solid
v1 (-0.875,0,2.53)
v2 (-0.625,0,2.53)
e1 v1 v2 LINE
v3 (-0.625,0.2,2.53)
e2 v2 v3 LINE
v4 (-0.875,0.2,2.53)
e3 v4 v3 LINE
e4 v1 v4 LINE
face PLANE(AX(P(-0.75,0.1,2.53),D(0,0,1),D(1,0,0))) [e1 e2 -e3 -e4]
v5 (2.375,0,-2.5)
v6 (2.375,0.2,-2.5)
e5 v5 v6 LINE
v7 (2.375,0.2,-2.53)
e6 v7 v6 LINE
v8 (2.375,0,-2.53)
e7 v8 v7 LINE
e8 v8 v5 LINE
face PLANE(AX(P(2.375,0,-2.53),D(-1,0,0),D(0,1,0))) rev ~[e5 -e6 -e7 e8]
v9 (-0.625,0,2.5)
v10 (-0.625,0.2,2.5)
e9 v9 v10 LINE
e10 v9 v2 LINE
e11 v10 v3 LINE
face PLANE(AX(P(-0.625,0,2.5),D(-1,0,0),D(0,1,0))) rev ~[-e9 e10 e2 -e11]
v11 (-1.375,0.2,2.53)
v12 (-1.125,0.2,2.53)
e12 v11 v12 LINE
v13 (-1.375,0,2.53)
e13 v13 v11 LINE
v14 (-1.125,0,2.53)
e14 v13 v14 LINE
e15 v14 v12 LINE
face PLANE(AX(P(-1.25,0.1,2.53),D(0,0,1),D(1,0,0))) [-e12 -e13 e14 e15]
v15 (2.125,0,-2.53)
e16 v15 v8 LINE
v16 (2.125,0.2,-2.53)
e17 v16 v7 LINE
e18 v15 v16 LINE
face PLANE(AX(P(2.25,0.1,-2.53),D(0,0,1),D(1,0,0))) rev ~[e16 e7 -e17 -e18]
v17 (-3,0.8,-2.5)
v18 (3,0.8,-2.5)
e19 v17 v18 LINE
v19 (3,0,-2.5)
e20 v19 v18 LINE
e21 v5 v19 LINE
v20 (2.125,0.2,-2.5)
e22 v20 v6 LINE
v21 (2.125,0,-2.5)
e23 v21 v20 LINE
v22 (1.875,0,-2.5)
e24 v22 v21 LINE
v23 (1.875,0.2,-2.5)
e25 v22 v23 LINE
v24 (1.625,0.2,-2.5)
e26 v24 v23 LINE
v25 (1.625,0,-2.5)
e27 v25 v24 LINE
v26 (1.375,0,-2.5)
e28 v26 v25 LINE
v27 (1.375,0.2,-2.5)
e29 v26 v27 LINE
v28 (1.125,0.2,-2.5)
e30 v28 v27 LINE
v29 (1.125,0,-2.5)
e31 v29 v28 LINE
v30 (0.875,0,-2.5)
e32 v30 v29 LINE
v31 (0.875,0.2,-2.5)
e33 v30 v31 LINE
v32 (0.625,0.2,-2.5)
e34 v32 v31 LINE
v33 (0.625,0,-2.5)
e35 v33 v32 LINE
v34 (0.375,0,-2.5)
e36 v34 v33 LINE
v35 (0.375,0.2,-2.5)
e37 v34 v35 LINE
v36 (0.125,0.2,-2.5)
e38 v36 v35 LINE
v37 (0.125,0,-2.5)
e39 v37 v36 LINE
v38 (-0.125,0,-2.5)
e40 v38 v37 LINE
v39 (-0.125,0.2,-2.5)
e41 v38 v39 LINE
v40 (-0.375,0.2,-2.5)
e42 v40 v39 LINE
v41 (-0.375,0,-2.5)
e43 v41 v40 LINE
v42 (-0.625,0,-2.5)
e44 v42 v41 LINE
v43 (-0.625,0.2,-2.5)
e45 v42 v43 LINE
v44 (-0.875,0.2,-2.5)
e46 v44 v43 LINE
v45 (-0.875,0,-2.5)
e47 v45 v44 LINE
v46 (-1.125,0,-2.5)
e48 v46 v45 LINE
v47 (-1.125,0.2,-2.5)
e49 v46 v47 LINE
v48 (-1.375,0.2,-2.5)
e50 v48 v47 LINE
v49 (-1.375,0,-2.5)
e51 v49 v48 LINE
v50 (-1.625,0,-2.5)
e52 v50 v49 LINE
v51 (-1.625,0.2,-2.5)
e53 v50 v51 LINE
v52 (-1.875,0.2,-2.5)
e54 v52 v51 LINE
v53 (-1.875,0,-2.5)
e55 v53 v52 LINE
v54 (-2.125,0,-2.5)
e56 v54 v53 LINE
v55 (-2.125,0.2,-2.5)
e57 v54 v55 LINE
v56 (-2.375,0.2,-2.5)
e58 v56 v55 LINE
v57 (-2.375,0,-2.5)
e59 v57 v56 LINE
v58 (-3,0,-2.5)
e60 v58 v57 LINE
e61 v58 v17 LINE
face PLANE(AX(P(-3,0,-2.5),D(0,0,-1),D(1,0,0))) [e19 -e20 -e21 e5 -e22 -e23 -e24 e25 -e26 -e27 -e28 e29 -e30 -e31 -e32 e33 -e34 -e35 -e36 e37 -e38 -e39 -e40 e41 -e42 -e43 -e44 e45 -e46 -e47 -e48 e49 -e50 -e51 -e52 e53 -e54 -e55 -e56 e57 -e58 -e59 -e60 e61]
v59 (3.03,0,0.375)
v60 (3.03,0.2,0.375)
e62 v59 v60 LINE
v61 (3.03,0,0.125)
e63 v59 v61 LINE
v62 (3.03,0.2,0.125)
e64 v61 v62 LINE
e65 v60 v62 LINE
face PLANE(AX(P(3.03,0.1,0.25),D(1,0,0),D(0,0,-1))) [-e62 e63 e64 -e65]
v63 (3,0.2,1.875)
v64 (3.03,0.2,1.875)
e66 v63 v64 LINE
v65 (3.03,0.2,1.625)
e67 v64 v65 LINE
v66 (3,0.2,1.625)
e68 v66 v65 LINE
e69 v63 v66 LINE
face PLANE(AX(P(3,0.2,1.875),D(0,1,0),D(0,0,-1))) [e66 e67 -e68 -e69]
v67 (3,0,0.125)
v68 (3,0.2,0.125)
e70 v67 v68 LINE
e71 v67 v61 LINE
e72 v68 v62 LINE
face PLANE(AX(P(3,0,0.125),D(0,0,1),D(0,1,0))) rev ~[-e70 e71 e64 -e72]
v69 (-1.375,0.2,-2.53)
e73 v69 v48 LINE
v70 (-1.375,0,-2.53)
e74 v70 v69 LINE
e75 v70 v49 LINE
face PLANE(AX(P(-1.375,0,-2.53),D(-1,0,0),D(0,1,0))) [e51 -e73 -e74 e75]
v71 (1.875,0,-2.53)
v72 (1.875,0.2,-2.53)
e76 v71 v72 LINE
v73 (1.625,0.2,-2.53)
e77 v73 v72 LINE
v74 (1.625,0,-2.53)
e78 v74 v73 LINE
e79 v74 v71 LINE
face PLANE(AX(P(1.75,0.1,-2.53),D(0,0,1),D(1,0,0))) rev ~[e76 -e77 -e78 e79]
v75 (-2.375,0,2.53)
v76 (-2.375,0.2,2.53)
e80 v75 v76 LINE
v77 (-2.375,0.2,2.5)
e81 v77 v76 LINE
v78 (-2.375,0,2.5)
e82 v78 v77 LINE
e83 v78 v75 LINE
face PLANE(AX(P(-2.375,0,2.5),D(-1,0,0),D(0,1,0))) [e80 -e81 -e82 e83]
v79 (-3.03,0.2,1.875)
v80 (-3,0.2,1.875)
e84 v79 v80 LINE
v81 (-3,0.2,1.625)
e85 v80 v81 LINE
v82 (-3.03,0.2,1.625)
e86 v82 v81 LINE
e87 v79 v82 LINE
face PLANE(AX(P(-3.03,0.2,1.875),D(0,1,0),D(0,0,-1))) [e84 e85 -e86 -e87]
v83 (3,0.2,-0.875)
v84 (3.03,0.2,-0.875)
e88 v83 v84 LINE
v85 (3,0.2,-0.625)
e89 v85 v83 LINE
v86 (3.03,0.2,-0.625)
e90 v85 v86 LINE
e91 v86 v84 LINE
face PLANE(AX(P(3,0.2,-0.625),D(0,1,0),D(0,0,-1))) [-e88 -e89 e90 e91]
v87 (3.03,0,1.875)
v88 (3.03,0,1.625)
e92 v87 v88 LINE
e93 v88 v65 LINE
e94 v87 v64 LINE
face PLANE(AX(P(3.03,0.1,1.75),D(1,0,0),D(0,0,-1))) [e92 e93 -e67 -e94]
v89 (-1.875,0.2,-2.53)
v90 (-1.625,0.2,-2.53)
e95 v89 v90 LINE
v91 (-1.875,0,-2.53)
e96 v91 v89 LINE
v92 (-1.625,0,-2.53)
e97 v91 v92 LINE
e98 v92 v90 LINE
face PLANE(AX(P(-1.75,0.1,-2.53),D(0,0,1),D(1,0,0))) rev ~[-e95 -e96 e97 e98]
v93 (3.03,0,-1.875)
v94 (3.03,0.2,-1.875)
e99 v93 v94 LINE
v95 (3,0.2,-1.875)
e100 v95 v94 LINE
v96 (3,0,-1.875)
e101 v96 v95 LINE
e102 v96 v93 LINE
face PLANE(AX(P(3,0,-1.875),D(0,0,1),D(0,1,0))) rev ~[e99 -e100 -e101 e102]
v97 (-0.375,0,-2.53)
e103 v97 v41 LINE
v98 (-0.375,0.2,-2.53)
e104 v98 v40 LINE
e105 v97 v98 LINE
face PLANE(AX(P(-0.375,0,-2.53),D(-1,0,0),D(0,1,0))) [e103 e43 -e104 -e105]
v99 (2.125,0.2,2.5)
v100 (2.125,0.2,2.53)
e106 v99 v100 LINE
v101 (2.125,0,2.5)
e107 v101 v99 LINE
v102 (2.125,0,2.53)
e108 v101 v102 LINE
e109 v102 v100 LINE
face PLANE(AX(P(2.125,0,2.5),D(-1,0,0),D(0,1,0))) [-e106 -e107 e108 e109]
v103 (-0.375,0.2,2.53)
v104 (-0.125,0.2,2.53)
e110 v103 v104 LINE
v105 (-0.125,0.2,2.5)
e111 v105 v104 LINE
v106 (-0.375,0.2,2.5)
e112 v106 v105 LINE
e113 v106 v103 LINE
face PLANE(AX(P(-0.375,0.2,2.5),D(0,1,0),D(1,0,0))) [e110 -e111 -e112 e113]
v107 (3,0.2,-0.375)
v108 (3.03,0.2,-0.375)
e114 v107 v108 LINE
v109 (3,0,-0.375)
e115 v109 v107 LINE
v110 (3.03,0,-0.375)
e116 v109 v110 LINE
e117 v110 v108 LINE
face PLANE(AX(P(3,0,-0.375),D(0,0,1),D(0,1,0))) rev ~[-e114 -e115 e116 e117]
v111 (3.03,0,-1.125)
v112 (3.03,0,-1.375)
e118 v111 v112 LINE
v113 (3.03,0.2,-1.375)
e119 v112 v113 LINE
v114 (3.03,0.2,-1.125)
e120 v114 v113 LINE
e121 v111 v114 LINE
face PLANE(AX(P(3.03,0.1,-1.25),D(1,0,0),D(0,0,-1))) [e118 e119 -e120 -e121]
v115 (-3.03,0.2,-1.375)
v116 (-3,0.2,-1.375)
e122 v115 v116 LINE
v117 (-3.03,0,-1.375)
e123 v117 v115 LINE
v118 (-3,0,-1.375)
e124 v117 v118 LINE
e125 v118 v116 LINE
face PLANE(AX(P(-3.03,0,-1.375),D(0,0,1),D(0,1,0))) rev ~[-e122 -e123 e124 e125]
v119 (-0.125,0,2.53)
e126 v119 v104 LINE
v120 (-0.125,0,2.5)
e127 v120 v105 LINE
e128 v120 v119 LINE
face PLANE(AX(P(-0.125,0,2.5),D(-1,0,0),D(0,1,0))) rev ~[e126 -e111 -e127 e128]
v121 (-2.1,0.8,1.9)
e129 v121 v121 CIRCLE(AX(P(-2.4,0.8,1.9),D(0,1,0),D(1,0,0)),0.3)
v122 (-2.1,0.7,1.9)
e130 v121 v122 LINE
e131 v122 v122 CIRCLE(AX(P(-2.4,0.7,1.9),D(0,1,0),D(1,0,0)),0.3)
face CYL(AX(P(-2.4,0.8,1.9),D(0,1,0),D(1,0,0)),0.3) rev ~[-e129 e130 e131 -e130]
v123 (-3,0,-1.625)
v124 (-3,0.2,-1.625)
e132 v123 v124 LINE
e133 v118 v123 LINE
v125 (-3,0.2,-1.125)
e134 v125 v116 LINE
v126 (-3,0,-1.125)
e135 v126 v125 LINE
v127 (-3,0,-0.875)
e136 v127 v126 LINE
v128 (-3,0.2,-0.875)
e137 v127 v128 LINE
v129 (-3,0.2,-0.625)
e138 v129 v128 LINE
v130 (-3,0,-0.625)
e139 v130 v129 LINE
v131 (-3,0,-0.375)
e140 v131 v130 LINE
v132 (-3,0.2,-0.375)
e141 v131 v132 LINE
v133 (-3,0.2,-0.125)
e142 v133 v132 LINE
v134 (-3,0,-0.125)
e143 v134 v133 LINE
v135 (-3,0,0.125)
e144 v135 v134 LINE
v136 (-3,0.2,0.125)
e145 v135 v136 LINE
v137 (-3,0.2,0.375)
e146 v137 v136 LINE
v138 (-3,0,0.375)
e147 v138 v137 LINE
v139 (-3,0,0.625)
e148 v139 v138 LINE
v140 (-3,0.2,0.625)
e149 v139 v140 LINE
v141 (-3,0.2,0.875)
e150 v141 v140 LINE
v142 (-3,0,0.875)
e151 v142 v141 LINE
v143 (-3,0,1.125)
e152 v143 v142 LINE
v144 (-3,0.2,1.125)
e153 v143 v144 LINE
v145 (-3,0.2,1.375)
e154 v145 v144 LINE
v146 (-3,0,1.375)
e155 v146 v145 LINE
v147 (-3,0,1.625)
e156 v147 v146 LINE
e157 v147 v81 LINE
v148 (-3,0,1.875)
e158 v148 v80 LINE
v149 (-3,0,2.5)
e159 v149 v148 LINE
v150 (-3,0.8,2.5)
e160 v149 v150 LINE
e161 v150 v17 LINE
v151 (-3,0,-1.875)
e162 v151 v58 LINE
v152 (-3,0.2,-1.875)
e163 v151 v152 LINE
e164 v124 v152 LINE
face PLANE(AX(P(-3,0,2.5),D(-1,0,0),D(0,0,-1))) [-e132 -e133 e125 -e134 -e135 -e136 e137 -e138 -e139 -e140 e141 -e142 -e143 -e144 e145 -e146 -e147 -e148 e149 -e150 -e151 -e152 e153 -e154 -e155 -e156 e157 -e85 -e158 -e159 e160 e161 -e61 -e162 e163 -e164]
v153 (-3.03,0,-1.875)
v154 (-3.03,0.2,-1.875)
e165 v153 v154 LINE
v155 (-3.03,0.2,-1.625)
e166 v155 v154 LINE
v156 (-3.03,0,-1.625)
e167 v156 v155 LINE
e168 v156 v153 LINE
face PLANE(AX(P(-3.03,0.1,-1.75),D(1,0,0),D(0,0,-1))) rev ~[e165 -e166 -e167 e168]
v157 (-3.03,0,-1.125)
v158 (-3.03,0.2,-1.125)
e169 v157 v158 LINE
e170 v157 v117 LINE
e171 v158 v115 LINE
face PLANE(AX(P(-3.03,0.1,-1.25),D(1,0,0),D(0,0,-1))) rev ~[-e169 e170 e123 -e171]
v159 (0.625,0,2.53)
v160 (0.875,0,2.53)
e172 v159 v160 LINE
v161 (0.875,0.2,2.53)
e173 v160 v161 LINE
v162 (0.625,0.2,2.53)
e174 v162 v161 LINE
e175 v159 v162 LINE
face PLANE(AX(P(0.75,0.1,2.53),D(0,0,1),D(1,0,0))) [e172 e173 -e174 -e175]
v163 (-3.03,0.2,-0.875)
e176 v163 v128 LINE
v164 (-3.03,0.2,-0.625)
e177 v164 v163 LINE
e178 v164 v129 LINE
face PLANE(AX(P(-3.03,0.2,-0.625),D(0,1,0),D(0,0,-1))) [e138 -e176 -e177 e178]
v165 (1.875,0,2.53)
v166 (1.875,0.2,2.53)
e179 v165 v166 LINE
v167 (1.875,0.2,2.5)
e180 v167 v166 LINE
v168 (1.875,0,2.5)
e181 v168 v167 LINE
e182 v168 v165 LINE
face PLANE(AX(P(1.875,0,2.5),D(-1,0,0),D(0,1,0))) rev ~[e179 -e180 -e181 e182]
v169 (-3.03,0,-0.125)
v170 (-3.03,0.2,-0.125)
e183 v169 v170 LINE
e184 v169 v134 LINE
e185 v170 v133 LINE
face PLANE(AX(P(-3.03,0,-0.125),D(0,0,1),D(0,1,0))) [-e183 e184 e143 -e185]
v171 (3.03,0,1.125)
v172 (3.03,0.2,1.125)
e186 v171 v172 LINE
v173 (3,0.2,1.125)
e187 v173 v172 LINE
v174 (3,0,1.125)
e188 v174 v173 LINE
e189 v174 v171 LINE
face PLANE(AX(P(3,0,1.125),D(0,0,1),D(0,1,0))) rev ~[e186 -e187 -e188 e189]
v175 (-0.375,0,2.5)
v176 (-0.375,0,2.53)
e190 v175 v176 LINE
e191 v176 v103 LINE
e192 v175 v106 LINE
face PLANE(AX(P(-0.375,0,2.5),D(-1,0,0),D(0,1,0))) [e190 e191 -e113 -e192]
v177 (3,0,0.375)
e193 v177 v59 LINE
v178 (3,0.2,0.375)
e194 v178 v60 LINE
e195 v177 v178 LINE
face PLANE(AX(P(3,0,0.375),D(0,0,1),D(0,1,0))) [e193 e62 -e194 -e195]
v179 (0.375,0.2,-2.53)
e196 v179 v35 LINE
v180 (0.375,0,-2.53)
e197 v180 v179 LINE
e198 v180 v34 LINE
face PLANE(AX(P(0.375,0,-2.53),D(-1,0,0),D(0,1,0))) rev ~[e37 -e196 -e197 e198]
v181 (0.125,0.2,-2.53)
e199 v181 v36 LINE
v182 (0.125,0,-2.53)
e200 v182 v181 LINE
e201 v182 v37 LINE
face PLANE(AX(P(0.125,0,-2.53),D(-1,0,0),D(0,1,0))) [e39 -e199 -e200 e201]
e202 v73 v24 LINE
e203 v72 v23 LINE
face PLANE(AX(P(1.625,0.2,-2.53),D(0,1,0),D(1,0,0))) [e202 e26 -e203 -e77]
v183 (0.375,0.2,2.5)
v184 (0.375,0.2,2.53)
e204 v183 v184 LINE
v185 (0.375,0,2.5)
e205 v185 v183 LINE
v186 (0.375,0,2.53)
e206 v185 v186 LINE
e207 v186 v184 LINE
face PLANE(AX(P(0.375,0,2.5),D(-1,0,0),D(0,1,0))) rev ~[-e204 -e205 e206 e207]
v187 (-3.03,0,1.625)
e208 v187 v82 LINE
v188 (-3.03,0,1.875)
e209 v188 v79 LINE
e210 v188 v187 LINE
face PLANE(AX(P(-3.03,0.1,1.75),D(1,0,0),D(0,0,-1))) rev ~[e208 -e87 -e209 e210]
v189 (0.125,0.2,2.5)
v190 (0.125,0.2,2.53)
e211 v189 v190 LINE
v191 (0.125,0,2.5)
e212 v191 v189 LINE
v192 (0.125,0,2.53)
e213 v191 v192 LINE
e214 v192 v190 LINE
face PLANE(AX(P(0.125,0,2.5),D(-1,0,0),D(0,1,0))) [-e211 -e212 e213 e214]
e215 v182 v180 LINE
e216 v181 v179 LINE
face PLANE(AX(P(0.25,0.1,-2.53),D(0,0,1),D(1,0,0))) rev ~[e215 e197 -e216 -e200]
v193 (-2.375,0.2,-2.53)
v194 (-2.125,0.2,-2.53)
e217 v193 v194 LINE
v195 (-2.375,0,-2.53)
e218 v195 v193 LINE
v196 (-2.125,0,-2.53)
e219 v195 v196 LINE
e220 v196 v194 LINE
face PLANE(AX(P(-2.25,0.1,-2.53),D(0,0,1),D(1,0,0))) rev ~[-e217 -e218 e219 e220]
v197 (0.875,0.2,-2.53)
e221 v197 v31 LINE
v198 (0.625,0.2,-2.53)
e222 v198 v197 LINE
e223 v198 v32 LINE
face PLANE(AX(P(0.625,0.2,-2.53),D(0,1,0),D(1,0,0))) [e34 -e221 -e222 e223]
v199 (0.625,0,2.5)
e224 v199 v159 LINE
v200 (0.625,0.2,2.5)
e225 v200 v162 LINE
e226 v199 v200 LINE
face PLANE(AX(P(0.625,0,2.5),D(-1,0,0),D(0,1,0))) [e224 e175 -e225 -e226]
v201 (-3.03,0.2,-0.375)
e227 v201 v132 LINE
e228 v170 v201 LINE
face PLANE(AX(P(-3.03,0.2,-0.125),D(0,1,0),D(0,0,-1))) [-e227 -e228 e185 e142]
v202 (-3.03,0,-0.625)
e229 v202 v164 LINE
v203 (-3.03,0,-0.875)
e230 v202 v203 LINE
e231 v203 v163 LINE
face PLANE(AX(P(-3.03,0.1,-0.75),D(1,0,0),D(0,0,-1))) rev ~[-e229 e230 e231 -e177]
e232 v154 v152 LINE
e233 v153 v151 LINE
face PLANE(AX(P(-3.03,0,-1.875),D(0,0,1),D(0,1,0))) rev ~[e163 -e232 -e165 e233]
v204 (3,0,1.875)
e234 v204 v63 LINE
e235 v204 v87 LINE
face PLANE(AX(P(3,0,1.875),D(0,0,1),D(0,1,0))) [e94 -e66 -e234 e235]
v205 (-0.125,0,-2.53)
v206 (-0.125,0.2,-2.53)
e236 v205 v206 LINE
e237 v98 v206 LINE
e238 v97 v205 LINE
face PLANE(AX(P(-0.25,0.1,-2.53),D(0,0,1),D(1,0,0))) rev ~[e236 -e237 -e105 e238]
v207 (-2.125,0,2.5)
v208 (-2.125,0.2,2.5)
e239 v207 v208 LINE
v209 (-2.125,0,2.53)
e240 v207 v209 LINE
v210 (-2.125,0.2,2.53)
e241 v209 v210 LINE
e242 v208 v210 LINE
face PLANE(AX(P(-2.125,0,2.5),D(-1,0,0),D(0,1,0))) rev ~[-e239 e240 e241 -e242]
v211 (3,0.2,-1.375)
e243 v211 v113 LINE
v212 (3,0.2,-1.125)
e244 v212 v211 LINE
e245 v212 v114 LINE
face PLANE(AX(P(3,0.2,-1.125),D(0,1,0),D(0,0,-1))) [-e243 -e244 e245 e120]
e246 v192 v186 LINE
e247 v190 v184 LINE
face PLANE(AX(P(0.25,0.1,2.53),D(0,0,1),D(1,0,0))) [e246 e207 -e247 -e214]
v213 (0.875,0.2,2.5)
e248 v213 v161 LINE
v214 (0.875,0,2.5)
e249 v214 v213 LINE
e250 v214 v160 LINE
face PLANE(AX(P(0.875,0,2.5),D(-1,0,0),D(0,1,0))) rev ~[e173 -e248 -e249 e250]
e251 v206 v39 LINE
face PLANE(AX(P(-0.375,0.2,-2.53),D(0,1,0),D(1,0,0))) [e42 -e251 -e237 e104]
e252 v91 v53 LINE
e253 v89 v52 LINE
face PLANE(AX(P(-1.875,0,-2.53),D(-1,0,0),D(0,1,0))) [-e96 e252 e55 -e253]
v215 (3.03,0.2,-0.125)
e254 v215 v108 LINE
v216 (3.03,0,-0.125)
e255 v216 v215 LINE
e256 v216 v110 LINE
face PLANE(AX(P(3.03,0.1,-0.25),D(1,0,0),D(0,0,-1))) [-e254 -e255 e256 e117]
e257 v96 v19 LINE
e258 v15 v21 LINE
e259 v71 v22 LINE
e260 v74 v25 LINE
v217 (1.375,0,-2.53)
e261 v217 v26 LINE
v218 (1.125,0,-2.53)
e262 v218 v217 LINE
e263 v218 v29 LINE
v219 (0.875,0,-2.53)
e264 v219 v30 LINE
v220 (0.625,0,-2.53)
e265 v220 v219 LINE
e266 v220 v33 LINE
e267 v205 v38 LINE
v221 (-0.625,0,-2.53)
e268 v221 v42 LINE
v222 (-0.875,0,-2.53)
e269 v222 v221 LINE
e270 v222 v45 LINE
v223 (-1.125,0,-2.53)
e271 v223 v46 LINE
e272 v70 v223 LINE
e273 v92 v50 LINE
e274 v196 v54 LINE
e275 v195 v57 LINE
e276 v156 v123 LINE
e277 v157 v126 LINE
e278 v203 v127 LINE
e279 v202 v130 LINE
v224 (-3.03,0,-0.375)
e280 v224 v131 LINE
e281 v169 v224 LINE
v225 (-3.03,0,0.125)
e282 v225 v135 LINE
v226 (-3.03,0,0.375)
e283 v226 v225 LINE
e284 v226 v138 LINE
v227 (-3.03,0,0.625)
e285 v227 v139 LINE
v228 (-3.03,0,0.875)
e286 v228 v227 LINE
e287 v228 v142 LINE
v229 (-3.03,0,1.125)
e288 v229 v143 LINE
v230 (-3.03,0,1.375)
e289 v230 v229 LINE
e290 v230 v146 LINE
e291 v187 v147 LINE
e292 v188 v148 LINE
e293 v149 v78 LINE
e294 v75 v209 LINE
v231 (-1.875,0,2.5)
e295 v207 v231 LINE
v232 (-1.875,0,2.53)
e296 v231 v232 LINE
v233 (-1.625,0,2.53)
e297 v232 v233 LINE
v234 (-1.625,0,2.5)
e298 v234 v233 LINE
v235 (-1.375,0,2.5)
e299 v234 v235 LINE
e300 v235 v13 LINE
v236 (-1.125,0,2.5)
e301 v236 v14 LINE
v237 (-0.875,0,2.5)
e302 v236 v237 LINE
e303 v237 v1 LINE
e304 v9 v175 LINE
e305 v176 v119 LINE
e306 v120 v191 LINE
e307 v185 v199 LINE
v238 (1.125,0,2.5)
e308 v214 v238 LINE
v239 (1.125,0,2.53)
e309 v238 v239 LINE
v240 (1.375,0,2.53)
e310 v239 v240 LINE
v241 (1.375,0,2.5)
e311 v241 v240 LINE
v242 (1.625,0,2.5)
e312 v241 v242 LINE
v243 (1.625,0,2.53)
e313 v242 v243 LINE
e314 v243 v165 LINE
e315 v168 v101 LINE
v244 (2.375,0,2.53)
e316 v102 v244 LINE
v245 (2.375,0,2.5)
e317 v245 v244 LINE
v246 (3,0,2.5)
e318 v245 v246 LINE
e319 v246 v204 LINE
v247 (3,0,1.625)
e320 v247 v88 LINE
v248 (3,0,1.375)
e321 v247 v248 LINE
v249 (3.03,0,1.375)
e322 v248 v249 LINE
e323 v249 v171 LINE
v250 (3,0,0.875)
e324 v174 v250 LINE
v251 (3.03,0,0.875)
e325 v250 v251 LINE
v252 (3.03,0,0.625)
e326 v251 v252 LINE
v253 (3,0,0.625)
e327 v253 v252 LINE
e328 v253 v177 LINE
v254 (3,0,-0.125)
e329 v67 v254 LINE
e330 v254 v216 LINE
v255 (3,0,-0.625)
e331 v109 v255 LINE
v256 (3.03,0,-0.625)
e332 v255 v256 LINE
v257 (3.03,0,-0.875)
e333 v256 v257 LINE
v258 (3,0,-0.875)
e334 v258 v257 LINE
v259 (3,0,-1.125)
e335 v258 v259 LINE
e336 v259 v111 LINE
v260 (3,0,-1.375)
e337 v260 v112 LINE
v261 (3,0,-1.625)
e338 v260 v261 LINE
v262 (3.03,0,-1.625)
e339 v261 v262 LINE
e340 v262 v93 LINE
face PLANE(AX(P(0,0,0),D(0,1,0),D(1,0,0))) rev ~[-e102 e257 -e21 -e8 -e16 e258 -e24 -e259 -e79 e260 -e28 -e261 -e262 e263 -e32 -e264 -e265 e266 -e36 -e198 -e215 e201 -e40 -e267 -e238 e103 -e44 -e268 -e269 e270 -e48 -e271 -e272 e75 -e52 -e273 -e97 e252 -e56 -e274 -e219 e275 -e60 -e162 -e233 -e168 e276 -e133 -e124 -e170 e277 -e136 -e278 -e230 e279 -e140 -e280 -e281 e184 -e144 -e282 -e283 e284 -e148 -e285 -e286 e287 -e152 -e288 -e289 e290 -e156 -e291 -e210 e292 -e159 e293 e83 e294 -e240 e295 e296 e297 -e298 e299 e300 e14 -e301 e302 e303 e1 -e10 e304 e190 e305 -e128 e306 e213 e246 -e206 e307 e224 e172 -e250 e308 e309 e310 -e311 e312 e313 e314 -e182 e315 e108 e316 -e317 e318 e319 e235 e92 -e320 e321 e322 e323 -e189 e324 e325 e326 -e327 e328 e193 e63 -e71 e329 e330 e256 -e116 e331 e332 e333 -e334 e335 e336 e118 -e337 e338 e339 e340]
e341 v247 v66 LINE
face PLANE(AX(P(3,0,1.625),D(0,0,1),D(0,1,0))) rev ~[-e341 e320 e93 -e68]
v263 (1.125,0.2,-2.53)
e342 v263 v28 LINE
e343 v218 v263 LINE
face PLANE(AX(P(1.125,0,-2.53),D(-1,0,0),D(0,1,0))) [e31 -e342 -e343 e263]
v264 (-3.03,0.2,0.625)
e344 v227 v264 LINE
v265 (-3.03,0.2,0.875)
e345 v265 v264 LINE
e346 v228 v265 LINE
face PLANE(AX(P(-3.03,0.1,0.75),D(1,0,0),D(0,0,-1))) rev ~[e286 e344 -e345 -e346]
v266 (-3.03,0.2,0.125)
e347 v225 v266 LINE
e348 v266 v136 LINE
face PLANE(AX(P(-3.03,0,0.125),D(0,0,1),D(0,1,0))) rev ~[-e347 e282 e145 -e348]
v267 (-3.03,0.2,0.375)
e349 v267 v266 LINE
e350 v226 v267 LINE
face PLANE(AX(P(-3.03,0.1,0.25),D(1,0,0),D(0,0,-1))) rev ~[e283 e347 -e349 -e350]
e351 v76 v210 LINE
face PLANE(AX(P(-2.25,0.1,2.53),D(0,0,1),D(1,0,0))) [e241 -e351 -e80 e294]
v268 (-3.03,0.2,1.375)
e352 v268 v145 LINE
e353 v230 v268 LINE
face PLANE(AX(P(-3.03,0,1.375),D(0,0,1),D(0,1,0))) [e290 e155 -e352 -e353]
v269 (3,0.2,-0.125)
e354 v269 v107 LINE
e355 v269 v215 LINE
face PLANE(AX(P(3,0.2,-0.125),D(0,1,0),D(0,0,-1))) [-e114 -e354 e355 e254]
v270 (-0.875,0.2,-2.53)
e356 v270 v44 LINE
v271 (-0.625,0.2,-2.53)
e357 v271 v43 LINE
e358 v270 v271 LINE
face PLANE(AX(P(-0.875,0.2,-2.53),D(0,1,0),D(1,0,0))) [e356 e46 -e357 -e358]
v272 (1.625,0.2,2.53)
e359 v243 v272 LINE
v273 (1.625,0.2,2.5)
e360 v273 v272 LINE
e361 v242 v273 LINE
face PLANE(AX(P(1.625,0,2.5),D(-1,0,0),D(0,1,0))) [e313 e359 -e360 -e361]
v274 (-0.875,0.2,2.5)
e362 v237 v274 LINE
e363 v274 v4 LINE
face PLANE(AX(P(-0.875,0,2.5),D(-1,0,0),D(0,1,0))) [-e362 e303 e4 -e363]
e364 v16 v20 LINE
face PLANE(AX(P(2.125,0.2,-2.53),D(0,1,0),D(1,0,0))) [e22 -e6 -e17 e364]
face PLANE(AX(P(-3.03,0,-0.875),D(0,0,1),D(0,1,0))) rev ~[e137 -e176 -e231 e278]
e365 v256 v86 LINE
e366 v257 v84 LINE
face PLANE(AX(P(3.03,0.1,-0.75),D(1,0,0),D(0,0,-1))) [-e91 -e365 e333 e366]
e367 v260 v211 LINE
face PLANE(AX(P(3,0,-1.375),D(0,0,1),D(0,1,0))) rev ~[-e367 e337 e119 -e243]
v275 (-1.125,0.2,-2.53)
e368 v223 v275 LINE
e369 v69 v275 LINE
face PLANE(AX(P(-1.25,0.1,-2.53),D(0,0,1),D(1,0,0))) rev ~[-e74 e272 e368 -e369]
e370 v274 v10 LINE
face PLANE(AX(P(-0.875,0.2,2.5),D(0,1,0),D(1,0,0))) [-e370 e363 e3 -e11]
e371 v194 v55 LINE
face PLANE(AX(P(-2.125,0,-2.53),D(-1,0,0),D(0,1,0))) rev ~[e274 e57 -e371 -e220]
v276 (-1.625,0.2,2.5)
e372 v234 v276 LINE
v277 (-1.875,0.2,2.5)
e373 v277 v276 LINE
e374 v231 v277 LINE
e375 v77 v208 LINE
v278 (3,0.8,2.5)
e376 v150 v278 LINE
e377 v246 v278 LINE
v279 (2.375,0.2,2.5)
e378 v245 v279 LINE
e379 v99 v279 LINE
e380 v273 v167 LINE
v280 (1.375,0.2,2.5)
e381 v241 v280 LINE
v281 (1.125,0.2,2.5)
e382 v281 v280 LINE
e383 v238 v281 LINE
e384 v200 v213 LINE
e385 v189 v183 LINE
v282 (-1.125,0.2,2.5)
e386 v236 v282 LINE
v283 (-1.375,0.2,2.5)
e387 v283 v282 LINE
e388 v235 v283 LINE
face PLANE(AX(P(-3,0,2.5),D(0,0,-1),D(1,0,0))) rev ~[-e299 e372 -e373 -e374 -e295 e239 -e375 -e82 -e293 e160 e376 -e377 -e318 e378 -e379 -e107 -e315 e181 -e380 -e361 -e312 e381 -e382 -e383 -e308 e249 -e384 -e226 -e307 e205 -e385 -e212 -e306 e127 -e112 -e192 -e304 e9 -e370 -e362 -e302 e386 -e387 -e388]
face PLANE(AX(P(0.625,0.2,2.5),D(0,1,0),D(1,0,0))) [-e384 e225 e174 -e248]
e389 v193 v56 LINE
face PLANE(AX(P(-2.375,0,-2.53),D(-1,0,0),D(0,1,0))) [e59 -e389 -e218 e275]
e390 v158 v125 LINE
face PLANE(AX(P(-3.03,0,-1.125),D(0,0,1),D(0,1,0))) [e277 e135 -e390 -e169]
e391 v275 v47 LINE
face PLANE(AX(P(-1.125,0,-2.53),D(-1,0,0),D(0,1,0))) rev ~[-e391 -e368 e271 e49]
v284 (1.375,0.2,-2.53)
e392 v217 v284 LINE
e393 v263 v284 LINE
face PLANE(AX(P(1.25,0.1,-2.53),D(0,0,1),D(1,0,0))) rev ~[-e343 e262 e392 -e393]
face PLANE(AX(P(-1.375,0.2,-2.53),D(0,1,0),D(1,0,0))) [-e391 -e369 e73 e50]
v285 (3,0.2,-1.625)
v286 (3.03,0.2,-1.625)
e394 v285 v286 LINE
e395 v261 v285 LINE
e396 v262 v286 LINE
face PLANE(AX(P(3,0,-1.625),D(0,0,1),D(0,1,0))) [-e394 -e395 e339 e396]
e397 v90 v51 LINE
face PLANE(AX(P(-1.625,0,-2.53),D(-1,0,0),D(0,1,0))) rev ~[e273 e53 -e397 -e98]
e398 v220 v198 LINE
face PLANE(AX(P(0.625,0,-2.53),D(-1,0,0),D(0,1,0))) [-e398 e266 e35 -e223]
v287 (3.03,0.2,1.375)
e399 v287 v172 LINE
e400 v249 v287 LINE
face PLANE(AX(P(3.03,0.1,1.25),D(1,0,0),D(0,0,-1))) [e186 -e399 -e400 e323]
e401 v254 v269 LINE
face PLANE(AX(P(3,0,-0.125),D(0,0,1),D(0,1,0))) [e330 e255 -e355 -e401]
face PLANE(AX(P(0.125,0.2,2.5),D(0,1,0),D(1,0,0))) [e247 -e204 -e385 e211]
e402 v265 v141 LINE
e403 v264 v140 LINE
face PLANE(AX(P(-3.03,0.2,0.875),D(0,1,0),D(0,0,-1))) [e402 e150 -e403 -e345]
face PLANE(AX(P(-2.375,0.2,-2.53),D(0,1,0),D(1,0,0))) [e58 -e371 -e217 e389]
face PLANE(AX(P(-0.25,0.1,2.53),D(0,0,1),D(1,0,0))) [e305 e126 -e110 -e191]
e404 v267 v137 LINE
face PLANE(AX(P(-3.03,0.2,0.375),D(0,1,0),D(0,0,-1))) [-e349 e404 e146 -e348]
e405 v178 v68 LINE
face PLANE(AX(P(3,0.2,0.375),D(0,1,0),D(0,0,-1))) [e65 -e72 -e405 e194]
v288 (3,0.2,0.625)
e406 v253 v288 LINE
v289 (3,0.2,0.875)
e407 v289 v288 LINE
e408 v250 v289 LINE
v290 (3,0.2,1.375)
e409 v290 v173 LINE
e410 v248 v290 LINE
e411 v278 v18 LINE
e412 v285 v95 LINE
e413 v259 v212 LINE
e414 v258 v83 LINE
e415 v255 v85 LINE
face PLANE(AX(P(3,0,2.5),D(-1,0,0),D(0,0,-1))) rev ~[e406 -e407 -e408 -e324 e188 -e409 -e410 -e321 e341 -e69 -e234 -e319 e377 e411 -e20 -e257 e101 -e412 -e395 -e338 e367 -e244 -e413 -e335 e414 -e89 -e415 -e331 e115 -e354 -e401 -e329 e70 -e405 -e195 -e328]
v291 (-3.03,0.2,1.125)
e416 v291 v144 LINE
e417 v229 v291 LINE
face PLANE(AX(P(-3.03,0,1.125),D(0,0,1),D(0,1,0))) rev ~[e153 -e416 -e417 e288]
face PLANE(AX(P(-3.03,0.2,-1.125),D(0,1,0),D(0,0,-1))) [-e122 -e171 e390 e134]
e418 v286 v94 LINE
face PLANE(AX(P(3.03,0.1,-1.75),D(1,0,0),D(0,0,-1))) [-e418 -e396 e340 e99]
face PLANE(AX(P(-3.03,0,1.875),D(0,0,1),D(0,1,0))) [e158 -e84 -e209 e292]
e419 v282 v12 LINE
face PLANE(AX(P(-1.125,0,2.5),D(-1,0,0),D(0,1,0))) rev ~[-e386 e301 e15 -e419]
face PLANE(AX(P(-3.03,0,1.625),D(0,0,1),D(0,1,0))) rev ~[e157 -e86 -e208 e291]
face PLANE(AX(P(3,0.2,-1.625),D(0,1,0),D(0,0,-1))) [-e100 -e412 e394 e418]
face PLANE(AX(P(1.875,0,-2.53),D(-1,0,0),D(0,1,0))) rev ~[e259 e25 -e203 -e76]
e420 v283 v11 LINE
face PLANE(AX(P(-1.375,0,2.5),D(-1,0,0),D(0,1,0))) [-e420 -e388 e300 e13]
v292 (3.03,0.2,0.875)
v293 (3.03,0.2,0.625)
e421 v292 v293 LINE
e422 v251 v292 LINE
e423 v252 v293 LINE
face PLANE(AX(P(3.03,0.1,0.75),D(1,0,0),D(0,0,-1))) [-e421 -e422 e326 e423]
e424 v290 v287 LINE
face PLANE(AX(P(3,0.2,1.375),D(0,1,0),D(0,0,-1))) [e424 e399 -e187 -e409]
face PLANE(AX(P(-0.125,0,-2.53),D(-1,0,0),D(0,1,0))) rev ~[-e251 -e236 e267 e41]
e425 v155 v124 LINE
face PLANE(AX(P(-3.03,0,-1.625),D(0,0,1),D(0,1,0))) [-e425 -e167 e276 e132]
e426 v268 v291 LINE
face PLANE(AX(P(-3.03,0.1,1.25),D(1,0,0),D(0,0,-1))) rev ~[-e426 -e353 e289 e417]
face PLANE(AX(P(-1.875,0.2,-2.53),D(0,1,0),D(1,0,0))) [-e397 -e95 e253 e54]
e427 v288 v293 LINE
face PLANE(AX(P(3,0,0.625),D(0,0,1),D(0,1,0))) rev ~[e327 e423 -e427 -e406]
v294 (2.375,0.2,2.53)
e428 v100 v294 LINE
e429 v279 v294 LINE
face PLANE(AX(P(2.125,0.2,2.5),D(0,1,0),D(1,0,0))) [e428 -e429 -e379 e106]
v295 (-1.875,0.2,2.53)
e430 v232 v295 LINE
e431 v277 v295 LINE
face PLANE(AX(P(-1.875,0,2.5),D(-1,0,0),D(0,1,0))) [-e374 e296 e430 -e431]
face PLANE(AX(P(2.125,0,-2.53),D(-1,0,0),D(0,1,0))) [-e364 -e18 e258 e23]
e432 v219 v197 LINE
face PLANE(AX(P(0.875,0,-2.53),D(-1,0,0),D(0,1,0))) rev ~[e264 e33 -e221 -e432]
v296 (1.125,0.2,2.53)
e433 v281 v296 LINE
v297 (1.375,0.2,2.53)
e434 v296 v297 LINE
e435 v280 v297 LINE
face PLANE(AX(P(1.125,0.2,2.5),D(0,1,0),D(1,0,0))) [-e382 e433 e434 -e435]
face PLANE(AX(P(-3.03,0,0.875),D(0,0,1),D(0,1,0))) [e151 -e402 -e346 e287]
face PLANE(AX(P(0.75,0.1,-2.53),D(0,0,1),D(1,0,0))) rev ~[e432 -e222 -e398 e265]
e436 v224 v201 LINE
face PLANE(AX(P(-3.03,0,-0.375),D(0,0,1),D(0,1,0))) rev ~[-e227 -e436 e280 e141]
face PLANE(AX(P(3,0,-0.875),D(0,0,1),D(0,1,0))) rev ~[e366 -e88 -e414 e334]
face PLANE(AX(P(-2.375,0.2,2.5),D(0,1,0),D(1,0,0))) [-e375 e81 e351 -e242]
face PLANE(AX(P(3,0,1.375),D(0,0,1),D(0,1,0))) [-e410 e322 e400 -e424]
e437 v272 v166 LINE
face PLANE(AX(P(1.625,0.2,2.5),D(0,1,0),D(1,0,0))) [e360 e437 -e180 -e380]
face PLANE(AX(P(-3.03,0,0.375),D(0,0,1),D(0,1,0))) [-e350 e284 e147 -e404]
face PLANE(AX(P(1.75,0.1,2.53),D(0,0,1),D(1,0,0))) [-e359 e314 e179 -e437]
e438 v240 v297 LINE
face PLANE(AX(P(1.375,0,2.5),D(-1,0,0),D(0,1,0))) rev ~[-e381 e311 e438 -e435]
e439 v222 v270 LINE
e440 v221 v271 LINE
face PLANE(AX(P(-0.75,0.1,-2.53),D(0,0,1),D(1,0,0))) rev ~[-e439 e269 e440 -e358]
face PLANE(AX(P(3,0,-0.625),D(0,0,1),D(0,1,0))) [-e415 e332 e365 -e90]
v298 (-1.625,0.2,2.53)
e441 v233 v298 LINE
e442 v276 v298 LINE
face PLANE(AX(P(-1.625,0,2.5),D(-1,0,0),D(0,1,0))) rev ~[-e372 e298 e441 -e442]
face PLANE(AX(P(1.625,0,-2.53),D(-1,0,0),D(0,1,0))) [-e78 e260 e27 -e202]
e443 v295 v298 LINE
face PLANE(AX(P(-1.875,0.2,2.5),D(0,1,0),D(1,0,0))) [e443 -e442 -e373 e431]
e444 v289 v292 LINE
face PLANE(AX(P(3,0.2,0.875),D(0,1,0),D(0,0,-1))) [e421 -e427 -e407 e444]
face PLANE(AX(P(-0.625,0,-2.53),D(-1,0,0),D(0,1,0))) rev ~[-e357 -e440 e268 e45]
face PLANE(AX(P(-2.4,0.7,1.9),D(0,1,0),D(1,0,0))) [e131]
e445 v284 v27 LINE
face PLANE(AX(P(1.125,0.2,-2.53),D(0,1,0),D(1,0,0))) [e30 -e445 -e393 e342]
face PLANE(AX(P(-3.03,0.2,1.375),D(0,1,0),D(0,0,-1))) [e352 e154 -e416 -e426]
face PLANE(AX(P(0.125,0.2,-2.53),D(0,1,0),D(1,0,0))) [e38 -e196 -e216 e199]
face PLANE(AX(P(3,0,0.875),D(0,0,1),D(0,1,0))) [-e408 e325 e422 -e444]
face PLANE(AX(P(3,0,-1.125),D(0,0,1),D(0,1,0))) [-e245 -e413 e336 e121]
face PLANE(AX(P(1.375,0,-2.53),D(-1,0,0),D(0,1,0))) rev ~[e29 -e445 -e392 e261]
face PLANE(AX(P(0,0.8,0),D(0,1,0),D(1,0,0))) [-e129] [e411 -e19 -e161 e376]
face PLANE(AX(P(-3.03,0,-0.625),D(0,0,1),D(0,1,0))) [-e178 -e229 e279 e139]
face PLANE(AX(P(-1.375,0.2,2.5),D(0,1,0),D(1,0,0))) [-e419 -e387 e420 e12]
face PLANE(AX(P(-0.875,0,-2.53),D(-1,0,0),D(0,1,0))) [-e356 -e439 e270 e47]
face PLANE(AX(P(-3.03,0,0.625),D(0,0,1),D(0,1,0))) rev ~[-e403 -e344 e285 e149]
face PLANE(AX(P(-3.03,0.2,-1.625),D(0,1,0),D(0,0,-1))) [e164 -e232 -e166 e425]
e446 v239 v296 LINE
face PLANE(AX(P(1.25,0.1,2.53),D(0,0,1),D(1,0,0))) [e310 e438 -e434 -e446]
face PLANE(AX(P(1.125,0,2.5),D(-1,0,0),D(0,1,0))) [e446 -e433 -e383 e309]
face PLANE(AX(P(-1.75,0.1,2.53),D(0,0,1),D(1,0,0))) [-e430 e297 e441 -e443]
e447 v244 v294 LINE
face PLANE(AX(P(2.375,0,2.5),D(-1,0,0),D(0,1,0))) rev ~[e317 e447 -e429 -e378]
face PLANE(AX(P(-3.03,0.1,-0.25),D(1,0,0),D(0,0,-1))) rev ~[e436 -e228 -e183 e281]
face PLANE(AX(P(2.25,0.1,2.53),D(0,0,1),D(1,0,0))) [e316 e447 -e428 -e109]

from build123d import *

# Parameters (mm, degrees)
SKETCH1_W           = 6
SKETCH1_H           = 5
BOSS_EXTRUDE1_DEPTH = 0.8
SKETCH2_R           = 0.3
CUT_EXTRUDE1_DEPTH  = 0.1
SKETCH3_W           = 0.25
SKETCH3_H           = 0.2
BOSS_EXTRUDE2_DEPTH = 0.03
LPATTERN1_COUNT     = 2
LPATTERN1_PITCH     = 5.03
SKETCH4_W           = 0.25
SKETCH4_H           = 0.2
BOSS_EXTRUDE3_DEPTH = 0.03
LPATTERN2_COUNT     = 2
LPATTERN2_PITCH     = 6.03


with BuildPart() as part:
    # Sketch1 → Boss-Extrude1 (new body)
    with BuildSketch(Plane(origin=(0, 0, 0), x_dir=(1, 0, 0), z_dir=(0, 1, 0))):
        Rectangle(SKETCH1_W, SKETCH1_H)
    extrude(amount=BOSS_EXTRUDE1_DEPTH)

    # Sketch2 → Cut-Extrude1 (cut)
    with BuildSketch(Plane(origin=(0, 0.8, 0), x_dir=(1, 0, 0), z_dir=(0, 1, 0))):
        with Locations((-2.4, -1.9)):
            Circle(SKETCH2_R)
    extrude(amount=-CUT_EXTRUDE1_DEPTH, mode=Mode.SUBTRACT)

    # Sketch3 → Boss-Extrude2 (add)
    with BuildSketch(Plane.XY.offset(2.5)):
        with Locations((-0.25, 0.1)):
            Rectangle(SKETCH3_W, SKETCH3_H)
        with Locations((0.25, 0.1)):
            Rectangle(SKETCH3_W, SKETCH3_H)
        with Locations((0.75, 0.1)):
            Rectangle(SKETCH3_W, SKETCH3_H)
        with Locations((1.25, 0.1)):
            Rectangle(SKETCH3_W, SKETCH3_H)
        with Locations((1.75, 0.1)):
            Rectangle(SKETCH3_W, SKETCH3_H)
        with Locations((2.25, 0.1)):
            Rectangle(SKETCH3_W, SKETCH3_H)
        with Locations((-0.75, 0.1)):
            Rectangle(SKETCH3_W, SKETCH3_H)
        with Locations((-1.25, 0.1)):
            Rectangle(SKETCH3_W, SKETCH3_H)
        with Locations((-1.75, 0.1)):
            Rectangle(SKETCH3_W, SKETCH3_H)
        with Locations((-2.25, 0.1)):
            Rectangle(SKETCH3_W, SKETCH3_H)
    boss_extrude2 = extrude(amount=BOSS_EXTRUDE2_DEPTH)

    # LPattern1: Boss-Extrude2 ×2
    with Locations(*[(0, 0, -i * LPATTERN1_PITCH) for i in range(1, LPATTERN1_COUNT)]):
        add(boss_extrude2)

    # Sketch4 → Boss-Extrude3 (add)
    with BuildSketch(Plane(origin=(3, 0, 0), x_dir=(0, 0, -1), z_dir=(1, 0, 0))):
        with Locations((-0.25, 0.1)):
            Rectangle(SKETCH4_W, SKETCH4_H)
        with Locations((0.25, 0.1)):
            Rectangle(SKETCH4_W, SKETCH4_H)
        with Locations((0.75, 0.1)):
            Rectangle(SKETCH4_W, SKETCH4_H)
        with Locations((1.25, 0.1)):
            Rectangle(SKETCH4_W, SKETCH4_H)
        with Locations((1.75, 0.1)):
            Rectangle(SKETCH4_W, SKETCH4_H)
        with Locations((-0.75, 0.1)):
            Rectangle(SKETCH4_W, SKETCH4_H)
        with Locations((-1.25, 0.1)):
            Rectangle(SKETCH4_W, SKETCH4_H)
        with Locations((-1.75, 0.1)):
            Rectangle(SKETCH4_W, SKETCH4_H)
    boss_extrude3 = extrude(amount=BOSS_EXTRUDE3_DEPTH)

    # LPattern2: Boss-Extrude3 ×2
    with Locations(*[(-i * LPATTERN2_PITCH, 0, 0) for i in range(1, LPATTERN2_COUNT)]):
        add(boss_extrude3)


solid = part.part
